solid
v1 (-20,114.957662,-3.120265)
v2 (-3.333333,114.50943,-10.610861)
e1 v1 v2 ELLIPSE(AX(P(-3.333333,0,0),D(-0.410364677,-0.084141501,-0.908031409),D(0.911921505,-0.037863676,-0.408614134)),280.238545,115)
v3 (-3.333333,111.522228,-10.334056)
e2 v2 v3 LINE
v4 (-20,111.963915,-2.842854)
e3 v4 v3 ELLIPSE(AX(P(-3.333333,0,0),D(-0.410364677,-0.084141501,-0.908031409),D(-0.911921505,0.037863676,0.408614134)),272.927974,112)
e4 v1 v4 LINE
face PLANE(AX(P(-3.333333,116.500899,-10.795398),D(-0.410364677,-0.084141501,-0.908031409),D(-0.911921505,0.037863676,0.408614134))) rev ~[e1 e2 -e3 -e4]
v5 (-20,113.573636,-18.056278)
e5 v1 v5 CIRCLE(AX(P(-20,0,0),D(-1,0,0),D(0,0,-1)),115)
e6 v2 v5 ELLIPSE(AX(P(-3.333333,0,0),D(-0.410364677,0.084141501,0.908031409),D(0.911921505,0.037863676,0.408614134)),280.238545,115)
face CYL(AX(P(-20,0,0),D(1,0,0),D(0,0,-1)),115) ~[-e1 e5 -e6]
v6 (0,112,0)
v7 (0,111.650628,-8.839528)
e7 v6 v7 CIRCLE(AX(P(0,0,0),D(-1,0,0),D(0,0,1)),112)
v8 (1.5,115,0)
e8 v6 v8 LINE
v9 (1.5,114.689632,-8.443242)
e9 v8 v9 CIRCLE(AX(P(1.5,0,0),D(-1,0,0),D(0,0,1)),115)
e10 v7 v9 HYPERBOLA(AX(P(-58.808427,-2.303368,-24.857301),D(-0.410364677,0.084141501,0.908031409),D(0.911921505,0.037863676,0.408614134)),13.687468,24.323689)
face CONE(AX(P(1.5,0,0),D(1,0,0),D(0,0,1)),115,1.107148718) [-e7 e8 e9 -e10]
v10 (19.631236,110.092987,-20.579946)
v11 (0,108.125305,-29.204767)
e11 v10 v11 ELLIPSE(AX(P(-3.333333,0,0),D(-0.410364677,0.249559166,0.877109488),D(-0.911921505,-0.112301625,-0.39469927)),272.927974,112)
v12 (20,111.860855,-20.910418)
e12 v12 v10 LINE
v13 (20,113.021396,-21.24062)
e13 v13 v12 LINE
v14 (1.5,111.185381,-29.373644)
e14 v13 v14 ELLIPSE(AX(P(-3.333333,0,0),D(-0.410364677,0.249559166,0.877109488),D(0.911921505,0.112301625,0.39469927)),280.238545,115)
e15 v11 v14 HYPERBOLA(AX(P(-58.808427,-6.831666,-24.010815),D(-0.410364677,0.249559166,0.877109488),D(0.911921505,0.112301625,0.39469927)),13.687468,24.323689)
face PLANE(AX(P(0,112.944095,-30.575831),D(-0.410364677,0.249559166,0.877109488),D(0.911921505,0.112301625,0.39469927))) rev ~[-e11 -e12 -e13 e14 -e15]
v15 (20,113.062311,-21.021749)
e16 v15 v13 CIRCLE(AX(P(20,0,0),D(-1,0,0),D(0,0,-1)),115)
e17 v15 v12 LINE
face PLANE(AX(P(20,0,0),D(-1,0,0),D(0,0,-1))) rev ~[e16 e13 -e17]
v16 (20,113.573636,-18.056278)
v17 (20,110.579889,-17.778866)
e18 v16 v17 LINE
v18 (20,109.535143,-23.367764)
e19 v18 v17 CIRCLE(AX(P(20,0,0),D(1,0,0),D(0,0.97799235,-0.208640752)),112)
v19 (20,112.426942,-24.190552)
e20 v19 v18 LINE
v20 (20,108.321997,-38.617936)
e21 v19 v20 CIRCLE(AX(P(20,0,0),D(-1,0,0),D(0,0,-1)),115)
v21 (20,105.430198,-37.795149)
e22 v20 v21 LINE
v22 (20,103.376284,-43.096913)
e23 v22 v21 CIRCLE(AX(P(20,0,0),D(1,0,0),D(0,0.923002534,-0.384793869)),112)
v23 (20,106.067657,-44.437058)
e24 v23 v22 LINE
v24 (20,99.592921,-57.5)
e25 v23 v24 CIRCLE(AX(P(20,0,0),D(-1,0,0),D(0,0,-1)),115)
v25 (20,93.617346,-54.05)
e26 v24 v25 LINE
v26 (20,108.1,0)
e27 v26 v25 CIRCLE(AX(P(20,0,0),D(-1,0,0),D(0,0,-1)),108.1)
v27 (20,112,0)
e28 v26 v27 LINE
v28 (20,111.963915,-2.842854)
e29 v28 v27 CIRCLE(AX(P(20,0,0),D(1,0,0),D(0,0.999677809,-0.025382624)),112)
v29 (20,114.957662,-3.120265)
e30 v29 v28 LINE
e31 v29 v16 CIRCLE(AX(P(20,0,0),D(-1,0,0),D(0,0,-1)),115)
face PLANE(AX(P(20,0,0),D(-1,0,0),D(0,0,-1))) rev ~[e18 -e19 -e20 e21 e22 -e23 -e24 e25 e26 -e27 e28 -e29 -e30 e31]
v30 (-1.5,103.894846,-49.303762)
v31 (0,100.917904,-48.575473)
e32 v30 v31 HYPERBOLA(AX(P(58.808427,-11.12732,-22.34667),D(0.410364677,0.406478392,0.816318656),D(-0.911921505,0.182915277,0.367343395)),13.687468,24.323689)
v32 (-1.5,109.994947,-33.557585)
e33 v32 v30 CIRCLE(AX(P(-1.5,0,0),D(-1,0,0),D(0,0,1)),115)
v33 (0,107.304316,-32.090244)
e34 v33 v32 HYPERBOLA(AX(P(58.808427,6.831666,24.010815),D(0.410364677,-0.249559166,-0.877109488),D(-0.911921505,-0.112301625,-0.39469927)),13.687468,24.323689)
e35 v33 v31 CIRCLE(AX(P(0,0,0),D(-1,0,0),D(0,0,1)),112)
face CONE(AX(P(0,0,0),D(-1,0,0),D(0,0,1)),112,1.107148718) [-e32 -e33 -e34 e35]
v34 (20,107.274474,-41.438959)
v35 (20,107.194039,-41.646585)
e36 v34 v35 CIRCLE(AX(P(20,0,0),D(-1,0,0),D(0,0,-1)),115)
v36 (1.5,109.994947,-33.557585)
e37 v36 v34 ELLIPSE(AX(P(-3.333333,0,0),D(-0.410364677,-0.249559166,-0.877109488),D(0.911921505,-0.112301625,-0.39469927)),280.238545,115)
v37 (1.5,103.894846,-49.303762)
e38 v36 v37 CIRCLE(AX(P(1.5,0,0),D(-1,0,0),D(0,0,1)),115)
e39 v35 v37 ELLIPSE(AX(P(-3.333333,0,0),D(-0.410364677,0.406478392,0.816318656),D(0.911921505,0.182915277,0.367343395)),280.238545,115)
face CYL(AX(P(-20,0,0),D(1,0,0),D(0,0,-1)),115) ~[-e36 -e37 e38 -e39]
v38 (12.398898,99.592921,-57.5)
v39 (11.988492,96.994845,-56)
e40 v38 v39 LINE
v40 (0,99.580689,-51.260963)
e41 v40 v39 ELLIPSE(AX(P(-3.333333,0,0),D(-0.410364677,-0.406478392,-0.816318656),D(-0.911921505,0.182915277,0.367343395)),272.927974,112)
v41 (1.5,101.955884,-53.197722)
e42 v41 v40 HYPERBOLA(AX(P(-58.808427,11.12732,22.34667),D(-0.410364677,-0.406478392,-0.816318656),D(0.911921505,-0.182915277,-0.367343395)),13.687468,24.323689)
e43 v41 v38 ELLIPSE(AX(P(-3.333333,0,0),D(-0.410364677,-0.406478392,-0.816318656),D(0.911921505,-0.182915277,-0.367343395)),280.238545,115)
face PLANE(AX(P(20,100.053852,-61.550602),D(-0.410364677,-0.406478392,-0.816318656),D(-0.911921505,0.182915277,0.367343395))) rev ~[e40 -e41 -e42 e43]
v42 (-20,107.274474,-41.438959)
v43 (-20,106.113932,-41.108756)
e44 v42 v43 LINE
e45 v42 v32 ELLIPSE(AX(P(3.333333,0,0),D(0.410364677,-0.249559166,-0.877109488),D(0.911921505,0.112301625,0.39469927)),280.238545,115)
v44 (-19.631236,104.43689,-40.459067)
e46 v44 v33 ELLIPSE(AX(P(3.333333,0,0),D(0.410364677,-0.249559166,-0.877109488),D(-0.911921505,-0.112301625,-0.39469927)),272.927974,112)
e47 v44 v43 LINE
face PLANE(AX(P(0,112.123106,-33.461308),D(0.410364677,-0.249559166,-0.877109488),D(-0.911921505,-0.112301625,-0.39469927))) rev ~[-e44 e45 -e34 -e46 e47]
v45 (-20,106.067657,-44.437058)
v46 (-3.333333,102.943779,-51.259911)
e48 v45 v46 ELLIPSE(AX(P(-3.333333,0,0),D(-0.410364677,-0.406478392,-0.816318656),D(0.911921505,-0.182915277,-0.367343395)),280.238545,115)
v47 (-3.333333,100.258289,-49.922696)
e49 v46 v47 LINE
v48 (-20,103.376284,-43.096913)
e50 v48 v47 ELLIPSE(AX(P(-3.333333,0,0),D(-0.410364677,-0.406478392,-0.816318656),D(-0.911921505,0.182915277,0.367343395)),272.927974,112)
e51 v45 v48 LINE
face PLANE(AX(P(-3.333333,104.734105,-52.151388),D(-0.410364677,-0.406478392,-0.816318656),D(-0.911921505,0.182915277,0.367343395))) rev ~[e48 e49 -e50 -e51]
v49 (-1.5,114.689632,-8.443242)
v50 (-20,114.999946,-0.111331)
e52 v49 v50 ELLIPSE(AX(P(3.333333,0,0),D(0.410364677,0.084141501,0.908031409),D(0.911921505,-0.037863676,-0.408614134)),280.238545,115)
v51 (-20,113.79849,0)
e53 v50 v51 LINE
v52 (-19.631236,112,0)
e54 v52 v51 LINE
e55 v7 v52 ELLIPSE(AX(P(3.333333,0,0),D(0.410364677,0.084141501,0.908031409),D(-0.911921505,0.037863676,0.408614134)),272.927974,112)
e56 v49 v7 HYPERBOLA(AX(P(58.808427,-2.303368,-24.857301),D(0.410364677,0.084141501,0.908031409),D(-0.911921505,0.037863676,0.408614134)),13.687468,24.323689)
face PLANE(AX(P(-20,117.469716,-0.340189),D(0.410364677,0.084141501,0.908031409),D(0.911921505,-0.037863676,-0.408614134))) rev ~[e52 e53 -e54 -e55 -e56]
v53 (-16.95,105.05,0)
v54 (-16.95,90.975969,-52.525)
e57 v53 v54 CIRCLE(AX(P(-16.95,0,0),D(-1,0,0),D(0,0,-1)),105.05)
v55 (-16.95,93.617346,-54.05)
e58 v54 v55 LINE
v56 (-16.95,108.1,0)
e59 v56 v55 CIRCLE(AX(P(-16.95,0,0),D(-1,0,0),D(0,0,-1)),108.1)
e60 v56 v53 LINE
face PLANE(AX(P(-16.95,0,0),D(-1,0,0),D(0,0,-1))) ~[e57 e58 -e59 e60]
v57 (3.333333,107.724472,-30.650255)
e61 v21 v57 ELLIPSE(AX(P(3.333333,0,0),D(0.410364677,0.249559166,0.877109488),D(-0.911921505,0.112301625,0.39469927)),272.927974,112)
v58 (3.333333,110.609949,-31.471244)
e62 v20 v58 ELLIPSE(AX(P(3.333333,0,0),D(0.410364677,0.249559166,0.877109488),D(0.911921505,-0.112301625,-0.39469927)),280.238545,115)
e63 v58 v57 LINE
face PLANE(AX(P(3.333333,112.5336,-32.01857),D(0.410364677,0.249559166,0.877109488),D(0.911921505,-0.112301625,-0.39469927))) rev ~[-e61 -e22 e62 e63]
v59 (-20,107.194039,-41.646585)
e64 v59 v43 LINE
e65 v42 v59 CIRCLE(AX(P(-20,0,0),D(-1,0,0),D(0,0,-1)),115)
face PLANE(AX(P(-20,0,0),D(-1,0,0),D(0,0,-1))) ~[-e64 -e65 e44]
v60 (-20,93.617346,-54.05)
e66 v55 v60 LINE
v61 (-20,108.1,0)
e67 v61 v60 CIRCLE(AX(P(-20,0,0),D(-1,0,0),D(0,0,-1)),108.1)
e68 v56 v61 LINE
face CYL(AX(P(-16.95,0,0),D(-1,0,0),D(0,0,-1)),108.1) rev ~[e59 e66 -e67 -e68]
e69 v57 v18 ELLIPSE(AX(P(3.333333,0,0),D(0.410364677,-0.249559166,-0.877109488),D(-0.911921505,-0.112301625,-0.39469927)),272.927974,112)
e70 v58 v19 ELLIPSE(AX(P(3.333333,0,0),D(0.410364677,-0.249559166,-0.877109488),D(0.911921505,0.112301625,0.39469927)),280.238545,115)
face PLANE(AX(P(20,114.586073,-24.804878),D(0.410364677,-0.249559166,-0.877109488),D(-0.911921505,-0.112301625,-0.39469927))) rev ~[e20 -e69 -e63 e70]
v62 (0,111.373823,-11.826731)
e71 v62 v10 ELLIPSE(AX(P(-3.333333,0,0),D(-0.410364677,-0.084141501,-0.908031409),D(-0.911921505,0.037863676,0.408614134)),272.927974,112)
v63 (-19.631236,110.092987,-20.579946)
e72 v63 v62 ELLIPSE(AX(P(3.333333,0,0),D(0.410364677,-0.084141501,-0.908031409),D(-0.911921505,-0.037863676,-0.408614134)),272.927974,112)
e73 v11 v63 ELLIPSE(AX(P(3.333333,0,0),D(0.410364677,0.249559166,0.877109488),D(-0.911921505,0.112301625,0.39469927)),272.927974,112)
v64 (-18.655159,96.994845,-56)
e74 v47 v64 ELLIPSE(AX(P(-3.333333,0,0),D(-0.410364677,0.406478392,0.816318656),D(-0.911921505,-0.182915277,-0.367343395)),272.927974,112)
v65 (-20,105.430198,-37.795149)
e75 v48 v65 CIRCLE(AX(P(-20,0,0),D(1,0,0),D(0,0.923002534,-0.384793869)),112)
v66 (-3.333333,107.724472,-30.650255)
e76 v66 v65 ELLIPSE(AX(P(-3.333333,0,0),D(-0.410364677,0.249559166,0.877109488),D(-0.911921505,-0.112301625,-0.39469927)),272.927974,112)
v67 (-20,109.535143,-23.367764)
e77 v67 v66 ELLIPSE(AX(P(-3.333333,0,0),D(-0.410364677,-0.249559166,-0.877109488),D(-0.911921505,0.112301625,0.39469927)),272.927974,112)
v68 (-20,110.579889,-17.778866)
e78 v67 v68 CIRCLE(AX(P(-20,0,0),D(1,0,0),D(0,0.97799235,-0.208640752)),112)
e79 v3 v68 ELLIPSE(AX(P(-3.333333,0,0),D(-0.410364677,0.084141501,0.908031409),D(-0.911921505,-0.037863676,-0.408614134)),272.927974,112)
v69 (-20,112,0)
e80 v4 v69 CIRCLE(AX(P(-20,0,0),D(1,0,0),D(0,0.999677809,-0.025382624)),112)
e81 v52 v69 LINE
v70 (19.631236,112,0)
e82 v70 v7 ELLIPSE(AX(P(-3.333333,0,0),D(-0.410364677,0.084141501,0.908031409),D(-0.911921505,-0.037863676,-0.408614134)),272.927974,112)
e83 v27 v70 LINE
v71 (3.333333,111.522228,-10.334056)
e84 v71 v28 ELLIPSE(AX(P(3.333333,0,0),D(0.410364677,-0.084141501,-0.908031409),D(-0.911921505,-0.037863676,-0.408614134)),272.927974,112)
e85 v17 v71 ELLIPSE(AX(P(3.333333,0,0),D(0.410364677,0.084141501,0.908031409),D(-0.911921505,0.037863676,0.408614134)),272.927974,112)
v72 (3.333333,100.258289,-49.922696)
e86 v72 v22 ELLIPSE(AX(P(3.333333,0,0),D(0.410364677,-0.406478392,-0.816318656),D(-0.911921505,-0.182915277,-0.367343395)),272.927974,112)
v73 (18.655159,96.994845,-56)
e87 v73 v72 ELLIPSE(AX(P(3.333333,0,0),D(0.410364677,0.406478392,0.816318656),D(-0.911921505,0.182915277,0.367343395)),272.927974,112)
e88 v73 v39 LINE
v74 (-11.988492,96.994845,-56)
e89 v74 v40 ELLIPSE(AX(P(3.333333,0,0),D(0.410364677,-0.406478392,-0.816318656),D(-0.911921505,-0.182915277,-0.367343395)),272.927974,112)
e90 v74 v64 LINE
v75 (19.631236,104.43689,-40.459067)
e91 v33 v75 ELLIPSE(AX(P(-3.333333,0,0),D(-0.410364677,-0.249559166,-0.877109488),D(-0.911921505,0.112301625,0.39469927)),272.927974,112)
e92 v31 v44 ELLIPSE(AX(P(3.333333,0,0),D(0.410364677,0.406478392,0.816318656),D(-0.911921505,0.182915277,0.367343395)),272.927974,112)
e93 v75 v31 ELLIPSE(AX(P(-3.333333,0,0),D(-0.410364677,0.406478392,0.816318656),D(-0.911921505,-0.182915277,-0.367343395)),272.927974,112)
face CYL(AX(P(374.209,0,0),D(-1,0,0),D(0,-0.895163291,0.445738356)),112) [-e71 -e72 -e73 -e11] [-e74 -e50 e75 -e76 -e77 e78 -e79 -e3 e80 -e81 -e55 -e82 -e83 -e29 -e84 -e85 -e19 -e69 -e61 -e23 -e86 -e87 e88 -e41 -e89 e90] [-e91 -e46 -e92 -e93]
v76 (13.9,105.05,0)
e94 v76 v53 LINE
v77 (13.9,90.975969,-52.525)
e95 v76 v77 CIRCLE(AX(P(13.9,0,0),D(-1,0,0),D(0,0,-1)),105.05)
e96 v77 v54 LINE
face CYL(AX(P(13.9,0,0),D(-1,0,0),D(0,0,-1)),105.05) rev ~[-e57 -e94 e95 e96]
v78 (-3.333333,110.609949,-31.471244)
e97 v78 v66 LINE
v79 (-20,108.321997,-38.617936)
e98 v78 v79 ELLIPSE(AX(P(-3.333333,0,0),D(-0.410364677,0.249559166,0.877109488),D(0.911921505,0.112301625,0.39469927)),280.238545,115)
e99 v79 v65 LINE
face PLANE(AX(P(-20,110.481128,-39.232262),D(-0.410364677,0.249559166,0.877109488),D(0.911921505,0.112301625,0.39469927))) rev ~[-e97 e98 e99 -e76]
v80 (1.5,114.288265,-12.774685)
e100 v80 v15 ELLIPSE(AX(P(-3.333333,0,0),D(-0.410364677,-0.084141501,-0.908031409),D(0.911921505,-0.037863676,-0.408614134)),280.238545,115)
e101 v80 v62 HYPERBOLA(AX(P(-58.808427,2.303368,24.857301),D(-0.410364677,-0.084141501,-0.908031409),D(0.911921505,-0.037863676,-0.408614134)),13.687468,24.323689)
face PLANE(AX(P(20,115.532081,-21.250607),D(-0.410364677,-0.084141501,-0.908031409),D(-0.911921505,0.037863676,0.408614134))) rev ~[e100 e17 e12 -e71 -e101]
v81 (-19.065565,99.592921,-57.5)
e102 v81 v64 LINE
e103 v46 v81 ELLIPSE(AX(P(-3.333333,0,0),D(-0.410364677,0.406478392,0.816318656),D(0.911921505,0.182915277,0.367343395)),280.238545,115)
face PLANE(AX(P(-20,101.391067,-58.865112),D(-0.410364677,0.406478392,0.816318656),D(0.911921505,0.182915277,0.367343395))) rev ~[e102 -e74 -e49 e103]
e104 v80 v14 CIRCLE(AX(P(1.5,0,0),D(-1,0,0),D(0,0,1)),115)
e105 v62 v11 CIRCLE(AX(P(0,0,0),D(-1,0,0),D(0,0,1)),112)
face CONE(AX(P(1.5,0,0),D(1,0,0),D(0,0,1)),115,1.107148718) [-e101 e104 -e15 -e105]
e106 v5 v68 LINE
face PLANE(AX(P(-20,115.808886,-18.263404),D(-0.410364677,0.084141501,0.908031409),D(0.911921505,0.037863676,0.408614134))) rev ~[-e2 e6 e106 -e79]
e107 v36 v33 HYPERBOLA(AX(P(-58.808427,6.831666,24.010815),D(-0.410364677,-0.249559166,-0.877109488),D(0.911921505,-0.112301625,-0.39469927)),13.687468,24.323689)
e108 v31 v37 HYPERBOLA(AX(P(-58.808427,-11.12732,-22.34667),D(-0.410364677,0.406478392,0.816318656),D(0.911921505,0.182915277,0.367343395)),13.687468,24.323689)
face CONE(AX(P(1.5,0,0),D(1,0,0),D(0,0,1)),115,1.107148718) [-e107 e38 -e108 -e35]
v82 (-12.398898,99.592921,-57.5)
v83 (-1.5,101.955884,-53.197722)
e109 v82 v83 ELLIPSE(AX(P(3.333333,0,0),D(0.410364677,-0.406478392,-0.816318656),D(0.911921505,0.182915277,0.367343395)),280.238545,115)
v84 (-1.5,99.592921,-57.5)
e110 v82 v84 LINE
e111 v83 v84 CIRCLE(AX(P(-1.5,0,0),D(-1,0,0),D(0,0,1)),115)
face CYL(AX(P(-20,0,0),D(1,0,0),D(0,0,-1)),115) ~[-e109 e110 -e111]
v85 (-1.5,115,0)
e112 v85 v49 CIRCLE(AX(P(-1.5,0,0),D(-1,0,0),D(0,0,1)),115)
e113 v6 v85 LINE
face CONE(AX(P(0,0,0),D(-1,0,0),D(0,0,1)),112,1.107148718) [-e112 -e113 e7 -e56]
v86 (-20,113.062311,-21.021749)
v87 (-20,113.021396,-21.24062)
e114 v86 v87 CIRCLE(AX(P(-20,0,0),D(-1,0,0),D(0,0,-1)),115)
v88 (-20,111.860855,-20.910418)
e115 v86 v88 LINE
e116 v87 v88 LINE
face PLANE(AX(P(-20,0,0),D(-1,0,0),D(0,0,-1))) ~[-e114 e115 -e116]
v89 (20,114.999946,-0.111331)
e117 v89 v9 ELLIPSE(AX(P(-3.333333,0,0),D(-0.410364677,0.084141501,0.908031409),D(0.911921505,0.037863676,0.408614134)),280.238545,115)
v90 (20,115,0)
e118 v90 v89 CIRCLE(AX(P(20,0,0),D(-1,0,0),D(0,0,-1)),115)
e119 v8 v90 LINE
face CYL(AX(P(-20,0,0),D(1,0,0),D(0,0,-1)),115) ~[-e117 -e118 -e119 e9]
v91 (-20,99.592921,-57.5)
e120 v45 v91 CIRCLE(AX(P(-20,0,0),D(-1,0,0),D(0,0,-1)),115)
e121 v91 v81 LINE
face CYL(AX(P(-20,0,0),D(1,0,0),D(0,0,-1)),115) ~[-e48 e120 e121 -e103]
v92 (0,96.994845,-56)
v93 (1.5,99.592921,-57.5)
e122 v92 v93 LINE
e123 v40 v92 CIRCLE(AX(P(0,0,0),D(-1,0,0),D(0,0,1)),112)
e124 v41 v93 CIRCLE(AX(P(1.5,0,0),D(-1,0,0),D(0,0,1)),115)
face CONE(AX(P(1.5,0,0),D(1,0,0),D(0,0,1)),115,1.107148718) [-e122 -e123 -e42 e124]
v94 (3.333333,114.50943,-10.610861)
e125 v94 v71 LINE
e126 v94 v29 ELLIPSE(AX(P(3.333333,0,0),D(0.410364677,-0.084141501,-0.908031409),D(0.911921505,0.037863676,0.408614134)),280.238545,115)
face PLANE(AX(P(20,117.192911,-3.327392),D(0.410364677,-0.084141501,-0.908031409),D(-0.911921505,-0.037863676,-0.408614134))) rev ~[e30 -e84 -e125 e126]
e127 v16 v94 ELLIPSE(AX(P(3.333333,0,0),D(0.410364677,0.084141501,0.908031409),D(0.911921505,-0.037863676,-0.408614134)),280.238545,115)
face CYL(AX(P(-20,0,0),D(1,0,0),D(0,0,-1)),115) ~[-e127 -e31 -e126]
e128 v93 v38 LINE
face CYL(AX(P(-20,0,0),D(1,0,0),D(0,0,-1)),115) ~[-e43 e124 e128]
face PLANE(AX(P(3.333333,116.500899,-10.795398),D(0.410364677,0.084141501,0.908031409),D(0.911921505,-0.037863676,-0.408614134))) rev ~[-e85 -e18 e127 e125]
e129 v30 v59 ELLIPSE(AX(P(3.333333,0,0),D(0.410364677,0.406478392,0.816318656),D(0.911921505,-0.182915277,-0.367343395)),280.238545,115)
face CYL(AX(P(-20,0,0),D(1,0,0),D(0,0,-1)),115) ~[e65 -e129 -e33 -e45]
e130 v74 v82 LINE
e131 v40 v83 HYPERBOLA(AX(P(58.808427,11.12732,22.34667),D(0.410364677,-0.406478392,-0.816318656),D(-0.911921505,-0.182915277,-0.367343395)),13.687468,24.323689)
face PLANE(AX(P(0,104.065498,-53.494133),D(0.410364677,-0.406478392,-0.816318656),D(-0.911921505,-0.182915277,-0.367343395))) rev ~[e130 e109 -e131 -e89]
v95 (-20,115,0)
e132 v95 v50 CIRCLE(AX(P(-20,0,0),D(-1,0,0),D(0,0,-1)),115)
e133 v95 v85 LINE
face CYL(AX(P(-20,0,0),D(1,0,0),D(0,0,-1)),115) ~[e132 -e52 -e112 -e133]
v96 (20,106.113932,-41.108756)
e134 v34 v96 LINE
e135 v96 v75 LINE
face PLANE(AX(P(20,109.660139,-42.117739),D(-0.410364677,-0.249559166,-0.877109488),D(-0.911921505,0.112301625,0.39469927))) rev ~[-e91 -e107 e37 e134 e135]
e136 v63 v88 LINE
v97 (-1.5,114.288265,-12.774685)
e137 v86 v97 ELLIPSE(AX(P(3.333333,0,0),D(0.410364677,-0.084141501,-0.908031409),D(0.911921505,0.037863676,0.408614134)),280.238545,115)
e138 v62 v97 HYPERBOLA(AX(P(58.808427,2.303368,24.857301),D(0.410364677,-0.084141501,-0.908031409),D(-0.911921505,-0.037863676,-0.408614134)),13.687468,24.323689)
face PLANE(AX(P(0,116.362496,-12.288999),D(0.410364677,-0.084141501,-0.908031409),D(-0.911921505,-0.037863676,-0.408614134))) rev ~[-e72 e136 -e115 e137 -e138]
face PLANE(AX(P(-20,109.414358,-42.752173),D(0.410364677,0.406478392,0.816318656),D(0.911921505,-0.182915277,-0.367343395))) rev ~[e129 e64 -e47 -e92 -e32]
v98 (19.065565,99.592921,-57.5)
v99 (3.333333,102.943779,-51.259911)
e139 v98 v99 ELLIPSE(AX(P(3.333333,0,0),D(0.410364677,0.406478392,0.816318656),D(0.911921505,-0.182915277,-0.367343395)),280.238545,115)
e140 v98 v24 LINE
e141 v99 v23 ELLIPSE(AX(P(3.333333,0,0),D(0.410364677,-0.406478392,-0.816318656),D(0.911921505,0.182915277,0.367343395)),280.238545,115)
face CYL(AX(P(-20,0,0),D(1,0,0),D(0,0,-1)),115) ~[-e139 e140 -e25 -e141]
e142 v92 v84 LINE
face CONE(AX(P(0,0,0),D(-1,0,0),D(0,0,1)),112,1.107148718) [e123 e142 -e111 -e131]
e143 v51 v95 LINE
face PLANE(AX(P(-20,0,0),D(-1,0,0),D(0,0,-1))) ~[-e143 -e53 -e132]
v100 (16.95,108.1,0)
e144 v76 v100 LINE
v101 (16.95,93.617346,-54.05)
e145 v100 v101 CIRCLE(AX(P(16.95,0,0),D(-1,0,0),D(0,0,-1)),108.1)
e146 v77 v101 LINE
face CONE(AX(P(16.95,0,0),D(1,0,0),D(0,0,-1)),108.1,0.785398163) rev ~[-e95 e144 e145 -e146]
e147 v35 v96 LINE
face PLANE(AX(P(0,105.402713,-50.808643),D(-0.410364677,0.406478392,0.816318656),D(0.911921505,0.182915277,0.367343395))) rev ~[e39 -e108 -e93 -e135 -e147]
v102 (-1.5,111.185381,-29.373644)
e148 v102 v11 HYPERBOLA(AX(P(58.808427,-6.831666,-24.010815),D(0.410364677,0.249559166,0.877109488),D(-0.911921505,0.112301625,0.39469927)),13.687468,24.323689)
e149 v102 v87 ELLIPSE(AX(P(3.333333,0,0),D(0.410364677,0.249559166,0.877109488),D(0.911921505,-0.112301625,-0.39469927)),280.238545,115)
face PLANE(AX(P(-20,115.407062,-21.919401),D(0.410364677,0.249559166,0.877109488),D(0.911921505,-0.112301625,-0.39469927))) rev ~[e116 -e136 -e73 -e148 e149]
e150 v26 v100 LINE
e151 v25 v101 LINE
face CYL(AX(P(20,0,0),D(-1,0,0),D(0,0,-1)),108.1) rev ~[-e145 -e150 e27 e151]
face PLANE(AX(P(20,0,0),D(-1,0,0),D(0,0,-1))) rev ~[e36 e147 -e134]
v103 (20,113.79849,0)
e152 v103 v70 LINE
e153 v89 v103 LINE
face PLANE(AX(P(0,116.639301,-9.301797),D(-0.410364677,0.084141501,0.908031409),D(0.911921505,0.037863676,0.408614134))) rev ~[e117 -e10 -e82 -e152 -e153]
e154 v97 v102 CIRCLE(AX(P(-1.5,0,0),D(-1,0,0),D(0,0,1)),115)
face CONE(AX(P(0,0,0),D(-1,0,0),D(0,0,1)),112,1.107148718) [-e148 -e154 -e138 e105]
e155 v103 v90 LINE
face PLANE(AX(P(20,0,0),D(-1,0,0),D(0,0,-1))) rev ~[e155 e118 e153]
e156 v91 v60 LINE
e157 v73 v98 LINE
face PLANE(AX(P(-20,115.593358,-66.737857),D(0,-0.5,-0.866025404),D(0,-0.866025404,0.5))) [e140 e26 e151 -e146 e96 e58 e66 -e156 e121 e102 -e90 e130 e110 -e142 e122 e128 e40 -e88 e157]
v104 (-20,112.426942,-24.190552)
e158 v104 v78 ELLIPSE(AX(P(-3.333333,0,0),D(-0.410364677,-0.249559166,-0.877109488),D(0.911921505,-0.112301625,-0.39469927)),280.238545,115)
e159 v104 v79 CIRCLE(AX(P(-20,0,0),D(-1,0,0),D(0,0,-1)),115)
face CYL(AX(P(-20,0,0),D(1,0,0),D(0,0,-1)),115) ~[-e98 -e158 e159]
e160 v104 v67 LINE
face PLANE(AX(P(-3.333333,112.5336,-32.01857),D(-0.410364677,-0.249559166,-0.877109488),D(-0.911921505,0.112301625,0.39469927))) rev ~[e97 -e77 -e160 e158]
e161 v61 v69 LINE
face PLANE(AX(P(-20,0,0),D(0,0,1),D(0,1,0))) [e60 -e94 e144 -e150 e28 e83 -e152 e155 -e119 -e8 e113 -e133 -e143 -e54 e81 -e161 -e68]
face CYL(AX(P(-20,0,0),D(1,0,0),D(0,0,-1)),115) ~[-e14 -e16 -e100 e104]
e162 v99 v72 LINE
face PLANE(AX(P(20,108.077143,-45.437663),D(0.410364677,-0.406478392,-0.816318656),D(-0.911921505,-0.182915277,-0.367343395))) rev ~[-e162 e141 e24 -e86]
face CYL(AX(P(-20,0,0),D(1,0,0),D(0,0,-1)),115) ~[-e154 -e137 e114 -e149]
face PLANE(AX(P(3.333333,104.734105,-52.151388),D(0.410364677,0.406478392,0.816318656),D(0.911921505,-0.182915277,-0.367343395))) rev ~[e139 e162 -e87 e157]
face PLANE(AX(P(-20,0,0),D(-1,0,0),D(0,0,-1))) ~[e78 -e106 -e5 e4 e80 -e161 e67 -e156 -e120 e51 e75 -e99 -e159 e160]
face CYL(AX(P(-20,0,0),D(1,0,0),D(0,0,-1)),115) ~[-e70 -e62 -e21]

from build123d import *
from build123d.topology import SkipClean

# Parameters (mm, degrees)
CUT_EXTRUDE1_REACH      = 261.709
CUT_EXTRUDE1_END_RADIUS = 112
CIRPATTERN1_COUNT       = 34
SKETCH5_OUTSIDE_W       = 297.544
SKETCH5_OUTSIDE_H       = 297.544
CUT_EXTRUDE2_DEPTH      = 168.481342244


with BuildPart() as part:
    # Sketch1 → Revolve1 (revolve)
    with BuildSketch(Plane.XY, mode=Mode.PRIVATE) as revolve1_sk:
        Polygon((-20, 115), (20, 115), (20, 108.1), (16.95, 108.1), (13.9, 105.05), (-16.95, 105.05), (-16.95, 108.1), (-20, 108.1), align=None)
    revolve(revolve1_sk.sketch.rotate(Axis((22, 0, 0), (-1, 0, 0)), 90), axis=Axis((22, 0, 0), (-1, 0, 0)))

    # Cut-Extrude1: up to this cylinder (the profile starts outside it)
    cut_extrude1_end = Plane(origin=(0, 0, 0), z_dir=(-1, 0, 0)) * Cylinder(CUT_EXTRUDE1_END_RADIUS, 748.418, mode=Mode.PRIVATE)
    # Sketch3 → Cut-Extrude1 (cut, up to the surface)
    with BuildSketch(Plane.XY.offset(117), mode=Mode.PRIVATE) as cut_extrude1_sk1:
        Polygon((-20, 7.5), (-3.333333333, 0), (-20, -7.5), (-20, -10.5), (0, -1.5), (20, -10.5), (20, -7.5), (3.333333333, 0), (20, 7.5), (20, 10.5), (0, 1.5), (-20, 10.5), align=None)
    cut_extrude1_tool1 = extrude(cut_extrude1_sk1.sketch, amount=-CUT_EXTRUDE1_REACH, mode=Mode.PRIVATE) - cut_extrude1_end
    cut_extrude1 = cut_extrude1_tool1.solids().sort_by_distance((0, 0, 117))[0]
    add(cut_extrude1, mode=Mode.SUBTRACT)

    # CirPattern1: Cut-Extrude1 ×34 about axis
    with SkipClean():  # the faces are left unmerged after this step: merging them gives an invalid solid
        cirpattern1_axis = Axis((0, 0, 0), (1, 0, 0))
        for i in range(1, CIRPATTERN1_COUNT):
            add(cut_extrude1.rotate(cirpattern1_axis, i * 360 / CIRPATTERN1_COUNT), mode=Mode.SUBTRACT)

    # Sketch4 → Cut-Revolve1 (revolve, cut)
    with SkipClean():  # the faces are left unmerged after this step: merging them gives an invalid solid
        with BuildSketch(Plane.XY, mode=Mode.PRIVATE) as cut_revolve1_sk:
            Polygon((-1.5, 115), (1.5, 115), (0, 112), align=None)
        revolve(cut_revolve1_sk.sketch.rotate(Axis((22, 0, 0), (-1, 0, 0)), 270), axis=Axis((22, 0, 0), (-1, 0, 0)), mode=Mode.SUBTRACT)

    # Sketch5 outside → Cut-Extrude2 (cut, through all)
    with BuildSketch(Plane.ZY.offset(20)):
        Rectangle(SKETCH5_OUTSIDE_W, SKETCH5_OUTSIDE_H)
        with BuildLine():
            Line((0, 0), (0, 124.880273578))
            ThreePointArc((0, 124.880273578), (-34.133726301, 125.732826073), (-66.737856602, 115.593358423))
            Line((-66.737856602, 115.593358423), (0, 0))
        make_face(mode=Mode.SUBTRACT)
    extrude(amount=-CUT_EXTRUDE2_DEPTH, mode=Mode.SUBTRACT)


solid = part.part
